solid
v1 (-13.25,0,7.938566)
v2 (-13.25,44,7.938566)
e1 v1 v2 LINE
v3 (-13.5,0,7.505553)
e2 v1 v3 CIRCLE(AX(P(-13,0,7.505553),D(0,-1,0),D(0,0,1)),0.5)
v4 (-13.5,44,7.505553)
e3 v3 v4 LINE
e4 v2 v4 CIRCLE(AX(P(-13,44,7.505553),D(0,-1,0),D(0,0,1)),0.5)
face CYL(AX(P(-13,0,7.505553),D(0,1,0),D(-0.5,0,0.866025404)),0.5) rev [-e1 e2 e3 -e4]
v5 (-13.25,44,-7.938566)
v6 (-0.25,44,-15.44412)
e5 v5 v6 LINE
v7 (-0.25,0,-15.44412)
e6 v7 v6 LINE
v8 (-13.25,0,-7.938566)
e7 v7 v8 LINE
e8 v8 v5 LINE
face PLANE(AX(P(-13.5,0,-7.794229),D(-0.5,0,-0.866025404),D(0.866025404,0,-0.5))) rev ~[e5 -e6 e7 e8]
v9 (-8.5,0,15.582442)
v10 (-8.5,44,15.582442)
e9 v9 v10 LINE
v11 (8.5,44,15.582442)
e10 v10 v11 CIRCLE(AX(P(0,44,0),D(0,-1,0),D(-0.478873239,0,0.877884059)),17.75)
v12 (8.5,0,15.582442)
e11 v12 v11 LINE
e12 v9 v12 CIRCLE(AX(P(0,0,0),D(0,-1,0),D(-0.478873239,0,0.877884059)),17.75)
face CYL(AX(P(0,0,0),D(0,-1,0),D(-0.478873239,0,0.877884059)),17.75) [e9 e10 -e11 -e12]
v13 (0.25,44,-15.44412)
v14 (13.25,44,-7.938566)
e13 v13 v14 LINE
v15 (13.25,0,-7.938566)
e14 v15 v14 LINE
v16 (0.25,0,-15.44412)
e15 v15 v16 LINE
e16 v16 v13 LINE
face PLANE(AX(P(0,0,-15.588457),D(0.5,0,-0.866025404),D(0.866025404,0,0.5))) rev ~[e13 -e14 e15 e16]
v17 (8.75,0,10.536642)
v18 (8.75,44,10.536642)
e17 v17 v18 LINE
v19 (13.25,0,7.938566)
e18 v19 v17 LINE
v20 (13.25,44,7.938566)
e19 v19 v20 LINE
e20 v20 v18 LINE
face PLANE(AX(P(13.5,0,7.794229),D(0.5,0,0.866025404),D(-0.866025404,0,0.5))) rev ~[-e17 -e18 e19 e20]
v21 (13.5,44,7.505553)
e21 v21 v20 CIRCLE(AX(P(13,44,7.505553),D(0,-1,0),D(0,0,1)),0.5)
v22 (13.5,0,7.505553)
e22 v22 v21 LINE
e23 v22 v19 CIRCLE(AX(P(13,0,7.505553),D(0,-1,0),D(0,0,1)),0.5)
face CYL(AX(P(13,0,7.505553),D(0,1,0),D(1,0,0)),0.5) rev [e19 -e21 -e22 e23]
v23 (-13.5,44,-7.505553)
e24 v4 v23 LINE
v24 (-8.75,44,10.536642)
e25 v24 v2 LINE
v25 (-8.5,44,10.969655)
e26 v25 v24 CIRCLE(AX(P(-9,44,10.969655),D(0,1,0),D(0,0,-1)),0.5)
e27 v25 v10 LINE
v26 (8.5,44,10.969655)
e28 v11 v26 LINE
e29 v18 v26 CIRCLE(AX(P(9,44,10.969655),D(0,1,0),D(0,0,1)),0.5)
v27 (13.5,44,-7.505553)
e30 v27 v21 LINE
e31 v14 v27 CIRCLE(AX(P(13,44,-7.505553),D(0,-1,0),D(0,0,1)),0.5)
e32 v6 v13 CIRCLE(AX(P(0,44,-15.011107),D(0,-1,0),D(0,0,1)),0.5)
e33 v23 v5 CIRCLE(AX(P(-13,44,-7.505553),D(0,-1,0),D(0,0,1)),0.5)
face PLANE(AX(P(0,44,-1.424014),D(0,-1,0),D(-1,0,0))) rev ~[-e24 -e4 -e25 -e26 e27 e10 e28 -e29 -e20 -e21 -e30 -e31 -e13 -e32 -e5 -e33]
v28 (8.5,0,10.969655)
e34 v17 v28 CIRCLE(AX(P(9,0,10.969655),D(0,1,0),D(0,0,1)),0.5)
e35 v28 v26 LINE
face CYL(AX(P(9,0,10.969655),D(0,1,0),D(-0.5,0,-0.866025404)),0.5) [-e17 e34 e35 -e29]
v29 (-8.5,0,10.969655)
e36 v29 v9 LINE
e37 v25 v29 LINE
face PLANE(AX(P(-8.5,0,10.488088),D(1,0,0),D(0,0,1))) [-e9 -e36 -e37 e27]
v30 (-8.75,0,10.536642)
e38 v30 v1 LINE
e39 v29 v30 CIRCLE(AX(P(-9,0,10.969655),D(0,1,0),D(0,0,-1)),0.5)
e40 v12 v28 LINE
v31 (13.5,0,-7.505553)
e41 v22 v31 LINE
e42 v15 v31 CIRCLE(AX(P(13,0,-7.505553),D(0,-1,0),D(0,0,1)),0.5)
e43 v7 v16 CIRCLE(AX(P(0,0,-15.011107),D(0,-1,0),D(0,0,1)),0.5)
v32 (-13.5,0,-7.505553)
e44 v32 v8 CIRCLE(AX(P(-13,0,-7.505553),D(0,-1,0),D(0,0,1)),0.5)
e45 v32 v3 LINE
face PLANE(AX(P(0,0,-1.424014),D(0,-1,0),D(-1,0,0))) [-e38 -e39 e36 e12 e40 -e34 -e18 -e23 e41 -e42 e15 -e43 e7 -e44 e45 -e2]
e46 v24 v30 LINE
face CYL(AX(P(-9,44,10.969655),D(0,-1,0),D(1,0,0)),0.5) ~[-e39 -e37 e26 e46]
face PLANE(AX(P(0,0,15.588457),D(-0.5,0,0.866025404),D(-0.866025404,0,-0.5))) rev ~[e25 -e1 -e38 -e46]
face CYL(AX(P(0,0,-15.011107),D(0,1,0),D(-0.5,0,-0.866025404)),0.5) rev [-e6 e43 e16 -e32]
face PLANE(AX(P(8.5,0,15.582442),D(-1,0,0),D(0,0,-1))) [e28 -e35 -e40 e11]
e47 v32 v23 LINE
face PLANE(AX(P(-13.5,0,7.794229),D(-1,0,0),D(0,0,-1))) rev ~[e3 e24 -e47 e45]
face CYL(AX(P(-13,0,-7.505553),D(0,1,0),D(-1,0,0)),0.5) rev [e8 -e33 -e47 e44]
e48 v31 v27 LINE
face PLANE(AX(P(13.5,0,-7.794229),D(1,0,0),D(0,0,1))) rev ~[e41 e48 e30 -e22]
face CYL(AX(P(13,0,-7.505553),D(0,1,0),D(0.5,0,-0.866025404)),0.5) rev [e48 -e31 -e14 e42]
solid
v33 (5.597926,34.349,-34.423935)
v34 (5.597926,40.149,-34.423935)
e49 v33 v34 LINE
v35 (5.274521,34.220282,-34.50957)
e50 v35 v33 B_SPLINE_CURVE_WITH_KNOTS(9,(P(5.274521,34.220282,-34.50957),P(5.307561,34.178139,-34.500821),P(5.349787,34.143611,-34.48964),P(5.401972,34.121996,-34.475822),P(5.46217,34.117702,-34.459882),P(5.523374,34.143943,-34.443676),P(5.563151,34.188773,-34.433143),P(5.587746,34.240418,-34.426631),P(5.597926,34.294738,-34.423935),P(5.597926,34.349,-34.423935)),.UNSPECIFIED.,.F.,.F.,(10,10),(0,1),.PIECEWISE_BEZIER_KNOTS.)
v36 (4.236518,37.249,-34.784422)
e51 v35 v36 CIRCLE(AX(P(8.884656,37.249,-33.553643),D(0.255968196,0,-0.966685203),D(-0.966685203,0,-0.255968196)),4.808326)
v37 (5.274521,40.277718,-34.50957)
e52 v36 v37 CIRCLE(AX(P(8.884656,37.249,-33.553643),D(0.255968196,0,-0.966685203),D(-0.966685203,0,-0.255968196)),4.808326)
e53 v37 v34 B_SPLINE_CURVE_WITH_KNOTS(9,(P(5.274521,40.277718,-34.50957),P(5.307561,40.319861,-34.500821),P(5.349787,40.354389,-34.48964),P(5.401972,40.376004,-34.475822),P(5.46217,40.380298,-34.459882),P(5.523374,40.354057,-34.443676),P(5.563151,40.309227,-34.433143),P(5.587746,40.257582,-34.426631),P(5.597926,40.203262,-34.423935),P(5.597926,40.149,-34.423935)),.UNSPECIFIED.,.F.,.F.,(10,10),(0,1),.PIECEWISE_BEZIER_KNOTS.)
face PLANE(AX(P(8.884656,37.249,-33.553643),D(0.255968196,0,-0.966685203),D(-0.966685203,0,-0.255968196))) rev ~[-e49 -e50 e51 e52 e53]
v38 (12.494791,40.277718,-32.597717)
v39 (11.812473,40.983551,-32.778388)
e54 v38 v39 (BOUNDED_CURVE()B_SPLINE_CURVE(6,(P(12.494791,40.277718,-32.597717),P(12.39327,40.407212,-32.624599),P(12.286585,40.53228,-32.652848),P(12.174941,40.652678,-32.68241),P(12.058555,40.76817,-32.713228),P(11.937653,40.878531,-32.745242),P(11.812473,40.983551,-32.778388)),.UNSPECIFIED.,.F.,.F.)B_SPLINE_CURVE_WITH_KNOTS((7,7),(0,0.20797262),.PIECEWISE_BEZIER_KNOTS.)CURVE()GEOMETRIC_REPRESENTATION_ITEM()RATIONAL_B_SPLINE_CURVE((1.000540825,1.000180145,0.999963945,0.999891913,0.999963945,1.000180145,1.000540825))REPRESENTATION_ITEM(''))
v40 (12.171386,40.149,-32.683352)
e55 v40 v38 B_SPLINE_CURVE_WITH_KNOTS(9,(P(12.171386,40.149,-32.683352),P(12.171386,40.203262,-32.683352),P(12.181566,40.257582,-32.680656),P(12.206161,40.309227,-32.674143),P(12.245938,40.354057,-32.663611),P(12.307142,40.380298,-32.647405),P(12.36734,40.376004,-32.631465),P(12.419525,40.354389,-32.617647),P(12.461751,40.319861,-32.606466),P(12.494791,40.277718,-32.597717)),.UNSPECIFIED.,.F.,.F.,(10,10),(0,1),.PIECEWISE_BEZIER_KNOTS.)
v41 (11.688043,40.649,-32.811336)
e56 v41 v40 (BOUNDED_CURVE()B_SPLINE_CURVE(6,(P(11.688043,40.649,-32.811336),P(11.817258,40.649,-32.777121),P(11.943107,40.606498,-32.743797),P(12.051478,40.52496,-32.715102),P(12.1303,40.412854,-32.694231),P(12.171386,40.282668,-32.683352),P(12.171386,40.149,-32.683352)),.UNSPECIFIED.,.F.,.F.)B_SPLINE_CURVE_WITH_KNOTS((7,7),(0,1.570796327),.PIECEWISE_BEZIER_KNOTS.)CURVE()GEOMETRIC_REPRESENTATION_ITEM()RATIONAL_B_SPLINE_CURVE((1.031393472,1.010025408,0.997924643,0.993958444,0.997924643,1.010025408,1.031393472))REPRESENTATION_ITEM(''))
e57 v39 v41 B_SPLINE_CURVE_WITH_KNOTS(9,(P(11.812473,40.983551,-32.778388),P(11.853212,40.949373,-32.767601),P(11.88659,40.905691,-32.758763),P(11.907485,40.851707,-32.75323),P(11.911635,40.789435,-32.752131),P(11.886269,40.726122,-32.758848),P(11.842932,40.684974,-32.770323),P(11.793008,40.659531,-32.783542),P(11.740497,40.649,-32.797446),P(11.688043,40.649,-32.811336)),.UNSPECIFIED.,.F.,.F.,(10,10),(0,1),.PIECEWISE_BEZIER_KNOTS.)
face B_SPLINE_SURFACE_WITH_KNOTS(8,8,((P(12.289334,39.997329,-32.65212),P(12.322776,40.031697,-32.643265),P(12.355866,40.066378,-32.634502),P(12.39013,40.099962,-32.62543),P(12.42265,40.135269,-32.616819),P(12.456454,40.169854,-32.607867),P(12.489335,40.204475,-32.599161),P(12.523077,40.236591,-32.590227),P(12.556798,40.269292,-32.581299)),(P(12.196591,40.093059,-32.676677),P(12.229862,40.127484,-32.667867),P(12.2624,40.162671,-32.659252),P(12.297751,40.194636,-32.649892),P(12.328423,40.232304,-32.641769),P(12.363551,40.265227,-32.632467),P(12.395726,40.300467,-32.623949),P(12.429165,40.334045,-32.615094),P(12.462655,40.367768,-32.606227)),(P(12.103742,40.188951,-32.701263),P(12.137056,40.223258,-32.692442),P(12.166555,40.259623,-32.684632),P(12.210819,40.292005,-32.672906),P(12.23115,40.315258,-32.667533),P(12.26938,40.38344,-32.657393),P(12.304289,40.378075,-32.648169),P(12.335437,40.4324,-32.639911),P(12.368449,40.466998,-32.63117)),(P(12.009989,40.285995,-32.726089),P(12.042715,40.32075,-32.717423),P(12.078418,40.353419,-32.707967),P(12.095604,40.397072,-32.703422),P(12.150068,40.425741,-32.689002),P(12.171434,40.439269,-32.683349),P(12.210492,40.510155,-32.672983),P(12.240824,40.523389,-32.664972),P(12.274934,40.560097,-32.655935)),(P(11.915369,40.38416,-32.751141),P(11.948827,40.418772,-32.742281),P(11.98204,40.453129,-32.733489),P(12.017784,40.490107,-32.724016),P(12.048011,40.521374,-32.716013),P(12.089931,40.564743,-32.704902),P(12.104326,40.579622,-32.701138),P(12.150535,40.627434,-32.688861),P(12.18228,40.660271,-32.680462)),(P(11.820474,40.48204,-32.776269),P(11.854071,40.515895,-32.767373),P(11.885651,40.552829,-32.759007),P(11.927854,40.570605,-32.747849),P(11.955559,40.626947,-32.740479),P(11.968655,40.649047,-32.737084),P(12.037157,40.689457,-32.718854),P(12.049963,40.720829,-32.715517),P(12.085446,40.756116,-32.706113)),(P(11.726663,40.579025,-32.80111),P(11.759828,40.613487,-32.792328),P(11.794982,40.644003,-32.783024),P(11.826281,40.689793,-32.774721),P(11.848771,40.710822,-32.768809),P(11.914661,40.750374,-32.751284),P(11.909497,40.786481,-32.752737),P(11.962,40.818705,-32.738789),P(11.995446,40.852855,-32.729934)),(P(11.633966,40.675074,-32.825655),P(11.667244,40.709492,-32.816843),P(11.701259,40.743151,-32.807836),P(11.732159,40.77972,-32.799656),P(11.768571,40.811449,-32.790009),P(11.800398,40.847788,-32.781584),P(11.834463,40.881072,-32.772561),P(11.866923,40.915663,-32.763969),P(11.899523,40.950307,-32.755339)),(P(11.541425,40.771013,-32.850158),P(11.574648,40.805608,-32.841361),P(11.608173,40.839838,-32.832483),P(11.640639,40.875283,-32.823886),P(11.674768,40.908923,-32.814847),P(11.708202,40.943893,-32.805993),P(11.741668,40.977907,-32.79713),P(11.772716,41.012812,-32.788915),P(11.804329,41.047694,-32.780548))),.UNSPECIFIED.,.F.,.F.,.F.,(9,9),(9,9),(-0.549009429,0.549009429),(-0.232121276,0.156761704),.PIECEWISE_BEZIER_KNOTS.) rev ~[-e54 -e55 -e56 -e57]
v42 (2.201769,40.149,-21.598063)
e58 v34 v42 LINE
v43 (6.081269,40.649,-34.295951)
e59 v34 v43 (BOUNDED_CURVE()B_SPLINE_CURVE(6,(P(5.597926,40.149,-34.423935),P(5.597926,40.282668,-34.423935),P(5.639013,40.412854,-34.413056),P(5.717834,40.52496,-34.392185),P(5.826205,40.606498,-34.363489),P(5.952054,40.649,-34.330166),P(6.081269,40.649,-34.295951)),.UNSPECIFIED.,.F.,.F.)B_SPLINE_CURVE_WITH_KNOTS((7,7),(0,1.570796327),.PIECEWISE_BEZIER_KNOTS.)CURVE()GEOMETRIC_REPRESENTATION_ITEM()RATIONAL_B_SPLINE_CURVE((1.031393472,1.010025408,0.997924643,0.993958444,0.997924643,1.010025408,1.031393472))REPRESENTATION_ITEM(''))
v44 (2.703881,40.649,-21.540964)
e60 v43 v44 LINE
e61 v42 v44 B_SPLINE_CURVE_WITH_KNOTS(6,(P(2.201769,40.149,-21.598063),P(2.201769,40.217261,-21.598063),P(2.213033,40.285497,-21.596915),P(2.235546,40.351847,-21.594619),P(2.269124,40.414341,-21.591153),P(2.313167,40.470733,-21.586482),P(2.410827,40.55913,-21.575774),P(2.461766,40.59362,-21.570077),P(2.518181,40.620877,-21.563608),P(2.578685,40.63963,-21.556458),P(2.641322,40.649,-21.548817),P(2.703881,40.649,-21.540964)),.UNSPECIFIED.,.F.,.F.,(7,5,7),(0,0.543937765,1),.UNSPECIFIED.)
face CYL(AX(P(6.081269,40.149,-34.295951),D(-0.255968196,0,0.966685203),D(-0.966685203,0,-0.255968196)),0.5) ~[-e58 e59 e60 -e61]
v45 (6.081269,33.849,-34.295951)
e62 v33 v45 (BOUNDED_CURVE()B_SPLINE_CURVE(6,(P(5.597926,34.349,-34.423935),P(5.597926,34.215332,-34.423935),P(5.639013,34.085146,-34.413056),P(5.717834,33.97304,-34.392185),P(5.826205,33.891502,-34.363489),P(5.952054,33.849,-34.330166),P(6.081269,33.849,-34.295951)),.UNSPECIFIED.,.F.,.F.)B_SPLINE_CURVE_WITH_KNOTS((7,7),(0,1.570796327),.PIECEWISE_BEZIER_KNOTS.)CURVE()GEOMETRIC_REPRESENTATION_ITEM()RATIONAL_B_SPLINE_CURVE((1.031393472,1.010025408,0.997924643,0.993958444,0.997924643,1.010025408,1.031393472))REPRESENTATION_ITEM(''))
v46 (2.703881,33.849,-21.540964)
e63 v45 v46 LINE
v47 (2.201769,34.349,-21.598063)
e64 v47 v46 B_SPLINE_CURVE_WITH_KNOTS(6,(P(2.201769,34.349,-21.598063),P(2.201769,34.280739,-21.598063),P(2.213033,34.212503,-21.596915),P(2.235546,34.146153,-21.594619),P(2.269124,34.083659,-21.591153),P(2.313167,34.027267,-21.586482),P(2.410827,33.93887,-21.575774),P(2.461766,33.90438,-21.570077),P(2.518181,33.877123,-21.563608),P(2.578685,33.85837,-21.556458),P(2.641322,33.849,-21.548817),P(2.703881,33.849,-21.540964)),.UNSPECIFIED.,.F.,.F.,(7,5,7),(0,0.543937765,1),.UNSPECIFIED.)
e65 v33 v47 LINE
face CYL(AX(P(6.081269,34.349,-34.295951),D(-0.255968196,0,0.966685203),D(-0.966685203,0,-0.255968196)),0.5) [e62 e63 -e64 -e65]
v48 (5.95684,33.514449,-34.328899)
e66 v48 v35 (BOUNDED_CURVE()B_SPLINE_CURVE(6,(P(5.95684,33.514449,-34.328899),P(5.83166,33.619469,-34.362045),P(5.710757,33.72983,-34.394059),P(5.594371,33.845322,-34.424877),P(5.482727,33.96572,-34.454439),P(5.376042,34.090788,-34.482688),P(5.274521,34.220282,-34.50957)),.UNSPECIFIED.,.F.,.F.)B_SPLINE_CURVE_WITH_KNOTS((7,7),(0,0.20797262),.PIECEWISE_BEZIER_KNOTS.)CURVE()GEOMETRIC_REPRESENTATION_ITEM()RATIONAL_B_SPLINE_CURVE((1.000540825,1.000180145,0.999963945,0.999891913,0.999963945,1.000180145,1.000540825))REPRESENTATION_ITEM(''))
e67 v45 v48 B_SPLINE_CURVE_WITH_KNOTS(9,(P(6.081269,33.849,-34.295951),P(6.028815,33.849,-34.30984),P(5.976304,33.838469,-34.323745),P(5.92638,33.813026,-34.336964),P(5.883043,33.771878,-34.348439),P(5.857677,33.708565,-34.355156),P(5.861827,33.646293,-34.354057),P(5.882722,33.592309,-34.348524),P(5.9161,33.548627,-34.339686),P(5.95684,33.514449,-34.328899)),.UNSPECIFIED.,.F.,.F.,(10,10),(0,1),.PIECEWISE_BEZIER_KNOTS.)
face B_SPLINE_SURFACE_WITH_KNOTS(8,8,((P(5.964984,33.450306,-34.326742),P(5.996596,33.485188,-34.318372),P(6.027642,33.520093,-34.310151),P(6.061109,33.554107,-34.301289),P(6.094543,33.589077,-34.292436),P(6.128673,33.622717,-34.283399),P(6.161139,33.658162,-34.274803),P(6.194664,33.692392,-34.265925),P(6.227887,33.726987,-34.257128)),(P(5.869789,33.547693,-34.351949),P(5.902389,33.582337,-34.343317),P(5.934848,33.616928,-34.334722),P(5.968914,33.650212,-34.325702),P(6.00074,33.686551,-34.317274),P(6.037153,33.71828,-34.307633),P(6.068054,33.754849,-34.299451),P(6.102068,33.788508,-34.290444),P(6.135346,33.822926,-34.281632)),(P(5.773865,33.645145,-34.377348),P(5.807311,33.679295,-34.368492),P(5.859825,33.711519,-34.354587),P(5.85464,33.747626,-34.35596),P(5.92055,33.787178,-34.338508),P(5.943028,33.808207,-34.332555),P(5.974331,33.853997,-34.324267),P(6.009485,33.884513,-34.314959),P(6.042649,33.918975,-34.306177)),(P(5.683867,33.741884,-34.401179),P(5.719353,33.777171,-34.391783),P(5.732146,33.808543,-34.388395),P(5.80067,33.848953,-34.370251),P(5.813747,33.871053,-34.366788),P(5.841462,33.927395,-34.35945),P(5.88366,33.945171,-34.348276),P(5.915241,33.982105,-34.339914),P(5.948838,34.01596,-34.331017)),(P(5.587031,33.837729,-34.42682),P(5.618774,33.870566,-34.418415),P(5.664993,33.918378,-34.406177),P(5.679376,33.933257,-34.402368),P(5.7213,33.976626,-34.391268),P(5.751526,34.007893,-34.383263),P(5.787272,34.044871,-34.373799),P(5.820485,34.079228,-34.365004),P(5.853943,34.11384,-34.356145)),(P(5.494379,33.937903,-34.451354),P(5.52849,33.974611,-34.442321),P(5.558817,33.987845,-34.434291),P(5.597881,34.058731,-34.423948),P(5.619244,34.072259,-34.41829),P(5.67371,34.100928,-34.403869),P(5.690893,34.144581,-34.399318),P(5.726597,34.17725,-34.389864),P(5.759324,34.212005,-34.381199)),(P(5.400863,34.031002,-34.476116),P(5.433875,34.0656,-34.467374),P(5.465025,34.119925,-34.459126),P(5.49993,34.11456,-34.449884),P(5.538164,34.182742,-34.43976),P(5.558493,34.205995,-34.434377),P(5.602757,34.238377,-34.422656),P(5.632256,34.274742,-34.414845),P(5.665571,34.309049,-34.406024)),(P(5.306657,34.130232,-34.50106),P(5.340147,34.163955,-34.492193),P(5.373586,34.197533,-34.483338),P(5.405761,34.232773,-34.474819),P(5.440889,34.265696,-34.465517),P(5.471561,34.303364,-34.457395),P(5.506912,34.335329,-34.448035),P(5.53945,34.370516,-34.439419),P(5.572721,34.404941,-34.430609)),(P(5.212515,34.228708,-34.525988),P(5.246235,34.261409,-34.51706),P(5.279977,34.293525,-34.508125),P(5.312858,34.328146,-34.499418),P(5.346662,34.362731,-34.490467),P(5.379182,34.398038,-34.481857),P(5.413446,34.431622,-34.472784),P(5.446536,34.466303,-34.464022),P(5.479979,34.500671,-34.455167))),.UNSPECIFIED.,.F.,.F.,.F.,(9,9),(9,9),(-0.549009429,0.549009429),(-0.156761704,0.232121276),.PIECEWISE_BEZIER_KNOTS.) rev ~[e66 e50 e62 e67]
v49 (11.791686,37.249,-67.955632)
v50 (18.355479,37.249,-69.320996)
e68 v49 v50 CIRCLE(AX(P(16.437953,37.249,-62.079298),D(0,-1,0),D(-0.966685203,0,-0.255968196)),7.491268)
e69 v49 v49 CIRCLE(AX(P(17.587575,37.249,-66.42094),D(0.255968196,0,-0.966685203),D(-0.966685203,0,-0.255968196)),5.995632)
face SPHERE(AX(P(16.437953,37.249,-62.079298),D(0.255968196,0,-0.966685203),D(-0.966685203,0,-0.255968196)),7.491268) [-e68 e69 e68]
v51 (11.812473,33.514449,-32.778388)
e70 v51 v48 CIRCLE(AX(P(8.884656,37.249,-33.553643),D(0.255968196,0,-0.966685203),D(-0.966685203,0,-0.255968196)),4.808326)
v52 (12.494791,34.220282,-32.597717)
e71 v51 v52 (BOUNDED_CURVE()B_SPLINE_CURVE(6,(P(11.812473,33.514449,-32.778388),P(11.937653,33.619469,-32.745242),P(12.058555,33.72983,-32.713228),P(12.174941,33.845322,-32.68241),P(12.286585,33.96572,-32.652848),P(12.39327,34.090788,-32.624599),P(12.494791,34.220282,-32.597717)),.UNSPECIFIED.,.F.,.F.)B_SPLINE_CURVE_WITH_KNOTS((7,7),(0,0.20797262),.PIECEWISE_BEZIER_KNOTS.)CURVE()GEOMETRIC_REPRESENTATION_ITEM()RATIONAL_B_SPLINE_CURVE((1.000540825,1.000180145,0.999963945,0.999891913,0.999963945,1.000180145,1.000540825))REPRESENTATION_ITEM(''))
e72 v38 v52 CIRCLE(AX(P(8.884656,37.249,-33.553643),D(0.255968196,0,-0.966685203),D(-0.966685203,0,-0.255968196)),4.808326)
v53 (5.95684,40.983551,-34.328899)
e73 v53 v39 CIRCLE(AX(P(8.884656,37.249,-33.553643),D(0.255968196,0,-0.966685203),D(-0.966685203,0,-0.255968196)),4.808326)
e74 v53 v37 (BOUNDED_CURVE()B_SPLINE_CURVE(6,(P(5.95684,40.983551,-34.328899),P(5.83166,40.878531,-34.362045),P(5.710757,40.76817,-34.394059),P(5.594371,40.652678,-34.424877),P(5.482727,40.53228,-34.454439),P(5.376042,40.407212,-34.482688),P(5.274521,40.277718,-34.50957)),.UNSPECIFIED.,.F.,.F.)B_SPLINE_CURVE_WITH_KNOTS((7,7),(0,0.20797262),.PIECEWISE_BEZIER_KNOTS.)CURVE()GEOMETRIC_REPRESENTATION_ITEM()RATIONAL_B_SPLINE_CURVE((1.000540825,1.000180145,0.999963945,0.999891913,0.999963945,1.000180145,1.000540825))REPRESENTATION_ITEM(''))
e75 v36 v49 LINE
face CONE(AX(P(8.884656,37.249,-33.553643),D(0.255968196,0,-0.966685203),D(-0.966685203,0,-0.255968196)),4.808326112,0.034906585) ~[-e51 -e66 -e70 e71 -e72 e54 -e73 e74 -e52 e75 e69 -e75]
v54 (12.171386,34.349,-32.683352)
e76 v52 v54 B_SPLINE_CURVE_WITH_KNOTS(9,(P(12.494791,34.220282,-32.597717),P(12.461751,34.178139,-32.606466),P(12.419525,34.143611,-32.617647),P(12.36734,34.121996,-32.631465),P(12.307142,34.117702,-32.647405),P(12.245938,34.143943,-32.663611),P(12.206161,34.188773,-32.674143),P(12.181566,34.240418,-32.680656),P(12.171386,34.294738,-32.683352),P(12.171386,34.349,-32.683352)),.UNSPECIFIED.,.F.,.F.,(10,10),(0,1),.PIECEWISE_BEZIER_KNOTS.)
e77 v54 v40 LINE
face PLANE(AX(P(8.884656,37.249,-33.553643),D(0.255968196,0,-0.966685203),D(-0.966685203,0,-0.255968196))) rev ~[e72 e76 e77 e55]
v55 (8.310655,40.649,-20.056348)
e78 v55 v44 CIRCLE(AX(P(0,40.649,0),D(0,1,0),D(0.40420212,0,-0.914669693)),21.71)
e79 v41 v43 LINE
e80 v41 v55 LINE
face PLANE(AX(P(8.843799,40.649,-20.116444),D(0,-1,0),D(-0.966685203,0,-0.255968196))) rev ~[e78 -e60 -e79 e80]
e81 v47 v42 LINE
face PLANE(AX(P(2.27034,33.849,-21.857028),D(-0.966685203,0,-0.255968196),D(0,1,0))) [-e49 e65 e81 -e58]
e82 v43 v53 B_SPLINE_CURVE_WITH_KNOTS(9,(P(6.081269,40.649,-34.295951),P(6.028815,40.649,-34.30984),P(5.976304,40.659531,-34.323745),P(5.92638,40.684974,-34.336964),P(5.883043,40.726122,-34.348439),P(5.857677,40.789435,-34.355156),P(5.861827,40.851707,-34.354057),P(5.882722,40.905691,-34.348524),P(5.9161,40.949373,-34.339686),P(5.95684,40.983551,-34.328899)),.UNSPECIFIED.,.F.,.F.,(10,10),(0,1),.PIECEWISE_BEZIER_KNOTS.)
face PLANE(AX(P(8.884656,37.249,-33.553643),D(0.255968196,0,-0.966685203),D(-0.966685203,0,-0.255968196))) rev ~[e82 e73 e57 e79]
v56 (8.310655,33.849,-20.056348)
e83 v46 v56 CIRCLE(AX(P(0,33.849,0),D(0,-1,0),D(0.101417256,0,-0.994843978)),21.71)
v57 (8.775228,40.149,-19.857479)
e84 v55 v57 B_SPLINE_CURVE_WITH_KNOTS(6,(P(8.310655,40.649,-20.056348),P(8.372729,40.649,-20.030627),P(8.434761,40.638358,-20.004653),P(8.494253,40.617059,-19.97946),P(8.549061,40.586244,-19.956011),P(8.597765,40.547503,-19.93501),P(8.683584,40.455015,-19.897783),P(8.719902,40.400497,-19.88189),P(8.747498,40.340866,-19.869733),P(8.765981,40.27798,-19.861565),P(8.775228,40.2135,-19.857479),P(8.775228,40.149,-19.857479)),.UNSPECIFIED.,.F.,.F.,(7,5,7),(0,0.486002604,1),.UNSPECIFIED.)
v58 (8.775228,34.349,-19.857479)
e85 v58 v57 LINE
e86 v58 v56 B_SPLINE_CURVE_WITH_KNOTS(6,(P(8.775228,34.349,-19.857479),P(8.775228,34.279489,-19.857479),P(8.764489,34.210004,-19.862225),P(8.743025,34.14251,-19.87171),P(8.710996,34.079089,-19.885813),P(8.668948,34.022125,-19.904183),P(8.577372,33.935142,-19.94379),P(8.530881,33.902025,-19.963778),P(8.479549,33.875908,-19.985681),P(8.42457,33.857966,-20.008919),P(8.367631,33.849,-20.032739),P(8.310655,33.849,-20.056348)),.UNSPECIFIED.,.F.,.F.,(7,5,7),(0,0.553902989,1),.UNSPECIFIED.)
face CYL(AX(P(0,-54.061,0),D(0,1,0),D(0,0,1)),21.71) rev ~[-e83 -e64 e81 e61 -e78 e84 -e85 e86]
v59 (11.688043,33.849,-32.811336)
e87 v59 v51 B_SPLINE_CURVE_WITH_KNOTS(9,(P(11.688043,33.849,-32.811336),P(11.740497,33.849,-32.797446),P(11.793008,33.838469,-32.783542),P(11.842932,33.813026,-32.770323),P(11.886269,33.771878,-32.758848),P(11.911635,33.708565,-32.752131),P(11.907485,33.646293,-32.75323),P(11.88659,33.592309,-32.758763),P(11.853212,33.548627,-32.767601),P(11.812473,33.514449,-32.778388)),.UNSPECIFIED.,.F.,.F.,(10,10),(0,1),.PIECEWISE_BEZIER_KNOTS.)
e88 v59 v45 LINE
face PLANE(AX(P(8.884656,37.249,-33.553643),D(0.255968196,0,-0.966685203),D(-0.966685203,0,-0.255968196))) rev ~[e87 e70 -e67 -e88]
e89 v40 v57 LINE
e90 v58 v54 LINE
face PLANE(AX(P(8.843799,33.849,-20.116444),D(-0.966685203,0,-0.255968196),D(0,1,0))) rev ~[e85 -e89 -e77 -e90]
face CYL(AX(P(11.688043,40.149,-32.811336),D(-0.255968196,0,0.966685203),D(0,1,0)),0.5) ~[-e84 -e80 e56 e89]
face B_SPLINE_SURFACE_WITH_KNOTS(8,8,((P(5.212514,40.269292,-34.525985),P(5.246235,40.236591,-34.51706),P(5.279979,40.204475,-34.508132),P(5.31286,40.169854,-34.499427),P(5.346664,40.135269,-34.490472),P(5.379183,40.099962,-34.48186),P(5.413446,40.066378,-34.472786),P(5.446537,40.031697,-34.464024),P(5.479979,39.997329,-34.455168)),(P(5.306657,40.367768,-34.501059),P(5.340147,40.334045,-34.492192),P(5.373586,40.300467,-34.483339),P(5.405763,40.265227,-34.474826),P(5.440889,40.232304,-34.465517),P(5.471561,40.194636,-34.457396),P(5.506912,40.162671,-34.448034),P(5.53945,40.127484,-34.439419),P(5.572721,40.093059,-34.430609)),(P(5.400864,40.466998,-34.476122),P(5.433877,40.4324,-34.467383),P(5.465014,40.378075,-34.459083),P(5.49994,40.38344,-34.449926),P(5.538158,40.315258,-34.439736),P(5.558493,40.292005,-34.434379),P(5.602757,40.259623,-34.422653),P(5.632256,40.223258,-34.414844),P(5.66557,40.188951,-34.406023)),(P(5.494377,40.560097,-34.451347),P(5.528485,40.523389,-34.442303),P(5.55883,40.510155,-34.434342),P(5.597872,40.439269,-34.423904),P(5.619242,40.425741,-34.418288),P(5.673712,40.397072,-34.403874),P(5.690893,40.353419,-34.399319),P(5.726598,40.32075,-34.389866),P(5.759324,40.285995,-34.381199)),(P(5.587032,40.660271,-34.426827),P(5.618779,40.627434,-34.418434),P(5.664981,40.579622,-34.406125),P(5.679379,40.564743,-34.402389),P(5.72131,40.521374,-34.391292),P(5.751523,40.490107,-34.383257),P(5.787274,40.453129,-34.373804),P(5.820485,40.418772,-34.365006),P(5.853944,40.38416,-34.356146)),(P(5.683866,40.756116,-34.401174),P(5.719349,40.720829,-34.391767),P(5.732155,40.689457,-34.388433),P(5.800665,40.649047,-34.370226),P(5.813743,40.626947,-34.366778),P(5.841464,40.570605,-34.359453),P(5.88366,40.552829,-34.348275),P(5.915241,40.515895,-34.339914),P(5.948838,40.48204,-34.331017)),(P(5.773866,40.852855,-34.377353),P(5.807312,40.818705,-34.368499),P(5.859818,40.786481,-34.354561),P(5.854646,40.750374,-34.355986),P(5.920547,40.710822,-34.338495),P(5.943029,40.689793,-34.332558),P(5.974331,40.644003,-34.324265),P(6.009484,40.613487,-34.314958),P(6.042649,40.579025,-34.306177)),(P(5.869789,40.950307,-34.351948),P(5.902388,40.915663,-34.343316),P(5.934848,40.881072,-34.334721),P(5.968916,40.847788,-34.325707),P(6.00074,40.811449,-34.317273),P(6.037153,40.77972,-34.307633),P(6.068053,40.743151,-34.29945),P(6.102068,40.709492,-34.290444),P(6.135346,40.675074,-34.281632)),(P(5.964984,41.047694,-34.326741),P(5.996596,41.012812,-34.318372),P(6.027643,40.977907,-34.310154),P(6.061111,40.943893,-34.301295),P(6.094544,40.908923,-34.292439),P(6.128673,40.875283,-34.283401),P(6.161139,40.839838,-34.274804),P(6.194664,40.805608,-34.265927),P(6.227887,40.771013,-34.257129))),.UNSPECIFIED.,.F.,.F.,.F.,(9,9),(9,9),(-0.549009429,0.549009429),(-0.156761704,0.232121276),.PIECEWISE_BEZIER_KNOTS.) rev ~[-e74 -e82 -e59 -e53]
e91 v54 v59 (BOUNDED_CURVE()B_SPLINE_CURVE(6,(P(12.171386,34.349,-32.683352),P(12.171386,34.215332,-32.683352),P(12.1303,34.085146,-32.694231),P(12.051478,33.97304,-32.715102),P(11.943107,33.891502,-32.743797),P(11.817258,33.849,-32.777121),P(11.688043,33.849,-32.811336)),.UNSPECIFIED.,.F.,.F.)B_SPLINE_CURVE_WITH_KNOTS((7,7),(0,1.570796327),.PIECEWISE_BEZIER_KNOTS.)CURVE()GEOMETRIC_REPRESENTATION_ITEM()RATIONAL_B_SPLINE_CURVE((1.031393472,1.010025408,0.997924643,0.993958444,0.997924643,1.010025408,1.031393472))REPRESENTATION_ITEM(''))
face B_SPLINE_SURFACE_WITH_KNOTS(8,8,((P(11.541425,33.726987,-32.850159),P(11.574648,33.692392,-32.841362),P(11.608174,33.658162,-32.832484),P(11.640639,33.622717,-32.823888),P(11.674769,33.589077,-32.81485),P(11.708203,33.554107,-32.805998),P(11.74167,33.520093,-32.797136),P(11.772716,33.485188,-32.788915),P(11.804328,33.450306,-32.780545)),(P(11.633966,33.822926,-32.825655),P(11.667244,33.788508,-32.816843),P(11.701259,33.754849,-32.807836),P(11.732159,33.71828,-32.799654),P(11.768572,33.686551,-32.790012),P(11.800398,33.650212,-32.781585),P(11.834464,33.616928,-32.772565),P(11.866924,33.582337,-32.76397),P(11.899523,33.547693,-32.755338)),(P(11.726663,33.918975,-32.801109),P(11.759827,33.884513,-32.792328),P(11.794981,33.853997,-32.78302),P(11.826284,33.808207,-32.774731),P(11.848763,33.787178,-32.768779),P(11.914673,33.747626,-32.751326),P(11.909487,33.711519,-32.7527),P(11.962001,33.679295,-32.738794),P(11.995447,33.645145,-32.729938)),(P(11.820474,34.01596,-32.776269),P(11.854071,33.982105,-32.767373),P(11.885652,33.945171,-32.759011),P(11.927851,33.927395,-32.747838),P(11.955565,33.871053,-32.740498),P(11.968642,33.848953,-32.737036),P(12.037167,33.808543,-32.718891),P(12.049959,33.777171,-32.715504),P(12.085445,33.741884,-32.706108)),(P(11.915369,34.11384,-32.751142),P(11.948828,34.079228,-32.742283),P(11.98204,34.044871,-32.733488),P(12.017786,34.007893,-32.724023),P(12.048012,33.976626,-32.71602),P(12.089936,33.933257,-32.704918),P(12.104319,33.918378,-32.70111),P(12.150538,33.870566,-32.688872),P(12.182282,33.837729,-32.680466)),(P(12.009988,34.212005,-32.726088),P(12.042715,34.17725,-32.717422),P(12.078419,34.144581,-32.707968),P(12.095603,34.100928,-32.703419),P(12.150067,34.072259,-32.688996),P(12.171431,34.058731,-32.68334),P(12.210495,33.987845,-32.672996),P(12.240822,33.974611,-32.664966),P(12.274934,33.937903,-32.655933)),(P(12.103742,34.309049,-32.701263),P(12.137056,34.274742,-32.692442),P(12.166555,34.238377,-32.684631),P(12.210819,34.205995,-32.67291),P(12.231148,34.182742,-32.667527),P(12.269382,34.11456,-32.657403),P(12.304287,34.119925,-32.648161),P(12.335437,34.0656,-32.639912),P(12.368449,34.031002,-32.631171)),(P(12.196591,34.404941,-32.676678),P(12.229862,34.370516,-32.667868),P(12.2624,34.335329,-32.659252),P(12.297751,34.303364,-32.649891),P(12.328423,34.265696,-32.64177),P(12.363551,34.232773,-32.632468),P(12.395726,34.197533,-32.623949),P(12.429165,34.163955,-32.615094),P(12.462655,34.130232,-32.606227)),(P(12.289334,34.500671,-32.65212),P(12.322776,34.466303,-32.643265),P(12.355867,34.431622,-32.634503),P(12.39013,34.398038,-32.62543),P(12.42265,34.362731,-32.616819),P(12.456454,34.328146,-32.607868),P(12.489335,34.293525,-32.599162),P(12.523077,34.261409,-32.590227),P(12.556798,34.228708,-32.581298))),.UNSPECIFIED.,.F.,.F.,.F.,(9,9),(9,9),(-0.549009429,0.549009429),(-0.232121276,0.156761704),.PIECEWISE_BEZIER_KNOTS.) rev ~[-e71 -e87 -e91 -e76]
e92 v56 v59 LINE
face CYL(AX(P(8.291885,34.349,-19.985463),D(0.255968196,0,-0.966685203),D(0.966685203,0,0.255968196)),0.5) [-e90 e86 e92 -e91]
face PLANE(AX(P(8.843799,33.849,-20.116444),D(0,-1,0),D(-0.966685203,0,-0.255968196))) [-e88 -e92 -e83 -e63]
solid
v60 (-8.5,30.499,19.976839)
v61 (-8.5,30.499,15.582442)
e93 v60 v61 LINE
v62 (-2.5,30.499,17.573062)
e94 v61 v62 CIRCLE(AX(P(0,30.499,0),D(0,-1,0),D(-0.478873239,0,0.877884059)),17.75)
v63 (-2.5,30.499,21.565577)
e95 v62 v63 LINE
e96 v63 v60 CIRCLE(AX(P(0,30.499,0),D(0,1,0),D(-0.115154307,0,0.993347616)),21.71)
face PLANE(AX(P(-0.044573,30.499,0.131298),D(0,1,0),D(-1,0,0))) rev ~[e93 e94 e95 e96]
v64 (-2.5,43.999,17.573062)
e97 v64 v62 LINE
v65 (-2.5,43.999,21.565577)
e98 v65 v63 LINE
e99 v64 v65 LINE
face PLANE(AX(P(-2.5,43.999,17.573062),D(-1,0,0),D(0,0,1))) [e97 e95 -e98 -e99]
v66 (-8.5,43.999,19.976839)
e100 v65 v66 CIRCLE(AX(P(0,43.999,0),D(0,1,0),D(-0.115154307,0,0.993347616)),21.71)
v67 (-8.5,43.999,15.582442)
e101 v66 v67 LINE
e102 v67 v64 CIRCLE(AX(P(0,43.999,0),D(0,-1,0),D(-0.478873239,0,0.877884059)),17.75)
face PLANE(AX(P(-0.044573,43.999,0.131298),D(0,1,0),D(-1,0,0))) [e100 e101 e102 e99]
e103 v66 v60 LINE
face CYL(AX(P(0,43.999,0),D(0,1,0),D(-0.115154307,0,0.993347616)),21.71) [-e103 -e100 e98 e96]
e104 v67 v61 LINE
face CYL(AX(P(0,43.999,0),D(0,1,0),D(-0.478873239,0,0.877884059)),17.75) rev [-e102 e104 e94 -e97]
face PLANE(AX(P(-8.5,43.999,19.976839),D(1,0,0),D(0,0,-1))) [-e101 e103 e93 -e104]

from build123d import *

# Parameters (mm, degrees)
EXTRUDE3_DEPTH                  = 44
EXTRUDE4_DEPTH                  = 13.5
SKETCH22_W                      = 6.8
SKETCH22_H                      = 6.8
EXTRUDE5_DEPTH                  = 13
EXTRUDE5_DIRECTION_2_REACH      = 69.1
EXTRUDE5_DIRECTION_2_END_RADIUS = 21.71
SKETCH23_R                      = 4.808326112
EXTRUDE6_DEPTH                  = 34
EXTRUDE6_DRAFT                  = -2
DOME1_FACE_RADIUS               = 5.995632275
DOME1_HEIGHT                    = 3
CUT_EXTRUDE7_DEPTH              = 86.573652668
FILLET2_R                       = 0.5
FILLET3_R                       = 0.5


with BuildPart() as part:
    # Sketch20 → Extrude3 (new body)
    with BuildSketch(Plane(origin=(0, 0, 0), x_dir=(1, 0, 0), z_dir=(0, 1, 0))):
        with BuildLine():
            Line((-8.5, -10.488088482), (-8.5, -15.582442042))
            ThreePointArc((-8.5, -15.582442042), (0, 17.75), (8.5, -15.582442042))
            Line((8.5, -15.582442042), (8.5, -10.488088482))
            ThreePointArc((8.5, -10.488088482), (0, 13.5), (-8.5, -10.488088482))
        make_face()
    extrude(amount=EXTRUDE3_DEPTH)

    # Sketch24 → Cut-Extrude7 (cut, through all)
    with BuildSketch(Plane.XZ):
        Polygon((-13.5, 7.794228634), (-13.5, -7.794228634), (0, -15.588457268), (13.5, -7.794228634), (13.5, 7.794228634), (0, 15.588457268), align=None)
    extrude(amount=-CUT_EXTRUDE7_DEPTH, mode=Mode.SUBTRACT)

    # Fillet3
    fillet3_edges = [part.edges().sort_by_distance(p)[0] for p in [
        (-8.5, 22, 10.68097998),
        (-13.5, 22, 7.794228634),
        (8.5, 22, 10.68097998),
        (13.5, 22, 7.794228634),
        (13.5, 22, -7.794228634),
        (0, 22, -15.588457268),
        (-13.5, 22, -7.794228634),
    ]]
    fillet(fillet3_edges, radius=FILLET3_R)


with BuildPart() as body_2:
    # Sketch21 → Extrude4 (new body)
    with BuildSketch(Plane(origin=(0, 43.999, 0), x_dir=(-1, 0, 0), z_dir=(0, 1, 0))):
        with BuildLine():
            Line((2.5, 17.573061771), (2.5, 21.565576737))
            ThreePointArc((2.5, 21.565576737), (-5.557069536, -20.986735767), (8.5, 19.976839089))
            Line((8.5, 19.976839089), (8.5, 15.582442042))
            ThreePointArc((8.5, 15.582442042), (-5.589332852, -16.847013334), (2.5, 17.573061771))
        make_face()
    extrude(amount=-EXTRUDE4_DEPTH)


with BuildPart() as body_3:
    # Sketch22 → Extrude5 (new body)
    with BuildSketch(Plane(origin=(5.557069536, 43.999, -20.986735767), x_dir=(-0.9666852034741763, 0, -0.2559681960402314), z_dir=(0.2559681960402314, 0, -0.9666852034741763))):
        with Locations((0, -6.75)):
            Rectangle(SKETCH22_W, SKETCH22_H)
    extrude(amount=EXTRUDE5_DEPTH)

    # Extrude5 direction 2: up to this cylinder (the profile starts outside it)
    extrude5_direction_2_end = Plane(origin=(0, 37.249, 0), z_dir=(0, 1, 0)) * Cylinder(EXTRUDE5_DIRECTION_2_END_RADIUS, 182.62, mode=Mode.PRIVATE)
    # Sketch22 → Extrude5 direction 2 (add, up to the surface)
    with BuildSketch(Plane(origin=(5.557069536, 43.999, -20.986735767), x_dir=(-0.9666852034741763, 0, -0.2559681960402314), z_dir=(0.2559681960402314, 0, -0.9666852034741763)), mode=Mode.PRIVATE) as extrude5_direction_2_sk1:
        with Locations((0, -6.75)):
            Rectangle(SKETCH22_W, SKETCH22_H)
    extrude5_direction_2_tool1 = extrude(extrude5_direction_2_sk1.sketch, amount=-EXTRUDE5_DIRECTION_2_REACH, mode=Mode.PRIVATE) - extrude5_direction_2_end
    add(extrude5_direction_2_tool1.solids().sort_by_distance((5.55707, 37.249, -20.986736))[0])
    add(extrude5_direction_2_tool1.solids().sort_by_distance((5.55707, 37.249, -20.986736))[1])


with BuildPart() as extrude6_tool:
    # Sketch23 → Extrude6 (with draft: the straight prism first)
    with BuildSketch(Plane(origin=(8.884656085, 0, -33.553643413), x_dir=(-0.9666852034741764, -1.6827536930173812e-15, -0.255968196040231), z_dir=(0.255968196040231, 0, -0.9666852034741764))):
        with Locations((0, 37.249)):
            Circle(SKETCH23_R)
    extrude(amount=EXTRUDE6_DEPTH)
    # Extrude6: the draft: its side faces are tilted about the plane it starts from
    extrude6_sides = [extrude6_tool.faces().sort_by_distance(p)[0] for p in [
        (17.884253123, 37.249, -48.756513311),
    ]]
    draft(extrude6_sides, Plane(origin=(8.884656085, 0, -33.553643413), x_dir=(-0.9666852034741764, -1.6827536930173812e-15, -0.255968196040231), z_dir=(0.255968196040231, 0, -0.9666852034741764)), EXTRUDE6_DRAFT)


with BuildPart() as body_3_1:
    add(body_3.part)

    # Extrude6: add extrude6_tool
    add(extrude6_tool.part)

    # Dome1: a dome of height H over a round flat face of radius A is a cap of a sphere of radius (A * A + H * H) / (2 * H)
    dome1_r = (DOME1_FACE_RADIUS * DOME1_FACE_RADIUS + DOME1_HEIGHT * DOME1_HEIGHT) / (2 * DOME1_HEIGHT)
    dome1_base = Plane((17.58757475, 37.249, -66.420940331), z_dir=(0.25596819604, 0, -0.966685203474))
    with Locations(dome1_base.offset(DOME1_HEIGHT - dome1_r)):
        dome1_ball = Sphere(dome1_r, mode=Mode.PRIVATE)
    add(split(dome1_ball, bisect_by=dome1_base, keep=Keep.TOP, mode=Mode.PRIVATE))

    # Fillet2
    fillet2_edges = [body_3_1.edges().sort_by_distance(p)[0] for p in [
        (10.473306898, 40.649, -26.270415285),
        (3.899847514, 40.649, -28.010999018),
        (3.899847514, 33.849, -28.010999018),
        (10.473306898, 33.849, -26.270415285),
    ]]
    fillet(fillet2_edges, radius=FILLET2_R)


solid = Compound([part.part, body_2.part, body_3_1.part])
